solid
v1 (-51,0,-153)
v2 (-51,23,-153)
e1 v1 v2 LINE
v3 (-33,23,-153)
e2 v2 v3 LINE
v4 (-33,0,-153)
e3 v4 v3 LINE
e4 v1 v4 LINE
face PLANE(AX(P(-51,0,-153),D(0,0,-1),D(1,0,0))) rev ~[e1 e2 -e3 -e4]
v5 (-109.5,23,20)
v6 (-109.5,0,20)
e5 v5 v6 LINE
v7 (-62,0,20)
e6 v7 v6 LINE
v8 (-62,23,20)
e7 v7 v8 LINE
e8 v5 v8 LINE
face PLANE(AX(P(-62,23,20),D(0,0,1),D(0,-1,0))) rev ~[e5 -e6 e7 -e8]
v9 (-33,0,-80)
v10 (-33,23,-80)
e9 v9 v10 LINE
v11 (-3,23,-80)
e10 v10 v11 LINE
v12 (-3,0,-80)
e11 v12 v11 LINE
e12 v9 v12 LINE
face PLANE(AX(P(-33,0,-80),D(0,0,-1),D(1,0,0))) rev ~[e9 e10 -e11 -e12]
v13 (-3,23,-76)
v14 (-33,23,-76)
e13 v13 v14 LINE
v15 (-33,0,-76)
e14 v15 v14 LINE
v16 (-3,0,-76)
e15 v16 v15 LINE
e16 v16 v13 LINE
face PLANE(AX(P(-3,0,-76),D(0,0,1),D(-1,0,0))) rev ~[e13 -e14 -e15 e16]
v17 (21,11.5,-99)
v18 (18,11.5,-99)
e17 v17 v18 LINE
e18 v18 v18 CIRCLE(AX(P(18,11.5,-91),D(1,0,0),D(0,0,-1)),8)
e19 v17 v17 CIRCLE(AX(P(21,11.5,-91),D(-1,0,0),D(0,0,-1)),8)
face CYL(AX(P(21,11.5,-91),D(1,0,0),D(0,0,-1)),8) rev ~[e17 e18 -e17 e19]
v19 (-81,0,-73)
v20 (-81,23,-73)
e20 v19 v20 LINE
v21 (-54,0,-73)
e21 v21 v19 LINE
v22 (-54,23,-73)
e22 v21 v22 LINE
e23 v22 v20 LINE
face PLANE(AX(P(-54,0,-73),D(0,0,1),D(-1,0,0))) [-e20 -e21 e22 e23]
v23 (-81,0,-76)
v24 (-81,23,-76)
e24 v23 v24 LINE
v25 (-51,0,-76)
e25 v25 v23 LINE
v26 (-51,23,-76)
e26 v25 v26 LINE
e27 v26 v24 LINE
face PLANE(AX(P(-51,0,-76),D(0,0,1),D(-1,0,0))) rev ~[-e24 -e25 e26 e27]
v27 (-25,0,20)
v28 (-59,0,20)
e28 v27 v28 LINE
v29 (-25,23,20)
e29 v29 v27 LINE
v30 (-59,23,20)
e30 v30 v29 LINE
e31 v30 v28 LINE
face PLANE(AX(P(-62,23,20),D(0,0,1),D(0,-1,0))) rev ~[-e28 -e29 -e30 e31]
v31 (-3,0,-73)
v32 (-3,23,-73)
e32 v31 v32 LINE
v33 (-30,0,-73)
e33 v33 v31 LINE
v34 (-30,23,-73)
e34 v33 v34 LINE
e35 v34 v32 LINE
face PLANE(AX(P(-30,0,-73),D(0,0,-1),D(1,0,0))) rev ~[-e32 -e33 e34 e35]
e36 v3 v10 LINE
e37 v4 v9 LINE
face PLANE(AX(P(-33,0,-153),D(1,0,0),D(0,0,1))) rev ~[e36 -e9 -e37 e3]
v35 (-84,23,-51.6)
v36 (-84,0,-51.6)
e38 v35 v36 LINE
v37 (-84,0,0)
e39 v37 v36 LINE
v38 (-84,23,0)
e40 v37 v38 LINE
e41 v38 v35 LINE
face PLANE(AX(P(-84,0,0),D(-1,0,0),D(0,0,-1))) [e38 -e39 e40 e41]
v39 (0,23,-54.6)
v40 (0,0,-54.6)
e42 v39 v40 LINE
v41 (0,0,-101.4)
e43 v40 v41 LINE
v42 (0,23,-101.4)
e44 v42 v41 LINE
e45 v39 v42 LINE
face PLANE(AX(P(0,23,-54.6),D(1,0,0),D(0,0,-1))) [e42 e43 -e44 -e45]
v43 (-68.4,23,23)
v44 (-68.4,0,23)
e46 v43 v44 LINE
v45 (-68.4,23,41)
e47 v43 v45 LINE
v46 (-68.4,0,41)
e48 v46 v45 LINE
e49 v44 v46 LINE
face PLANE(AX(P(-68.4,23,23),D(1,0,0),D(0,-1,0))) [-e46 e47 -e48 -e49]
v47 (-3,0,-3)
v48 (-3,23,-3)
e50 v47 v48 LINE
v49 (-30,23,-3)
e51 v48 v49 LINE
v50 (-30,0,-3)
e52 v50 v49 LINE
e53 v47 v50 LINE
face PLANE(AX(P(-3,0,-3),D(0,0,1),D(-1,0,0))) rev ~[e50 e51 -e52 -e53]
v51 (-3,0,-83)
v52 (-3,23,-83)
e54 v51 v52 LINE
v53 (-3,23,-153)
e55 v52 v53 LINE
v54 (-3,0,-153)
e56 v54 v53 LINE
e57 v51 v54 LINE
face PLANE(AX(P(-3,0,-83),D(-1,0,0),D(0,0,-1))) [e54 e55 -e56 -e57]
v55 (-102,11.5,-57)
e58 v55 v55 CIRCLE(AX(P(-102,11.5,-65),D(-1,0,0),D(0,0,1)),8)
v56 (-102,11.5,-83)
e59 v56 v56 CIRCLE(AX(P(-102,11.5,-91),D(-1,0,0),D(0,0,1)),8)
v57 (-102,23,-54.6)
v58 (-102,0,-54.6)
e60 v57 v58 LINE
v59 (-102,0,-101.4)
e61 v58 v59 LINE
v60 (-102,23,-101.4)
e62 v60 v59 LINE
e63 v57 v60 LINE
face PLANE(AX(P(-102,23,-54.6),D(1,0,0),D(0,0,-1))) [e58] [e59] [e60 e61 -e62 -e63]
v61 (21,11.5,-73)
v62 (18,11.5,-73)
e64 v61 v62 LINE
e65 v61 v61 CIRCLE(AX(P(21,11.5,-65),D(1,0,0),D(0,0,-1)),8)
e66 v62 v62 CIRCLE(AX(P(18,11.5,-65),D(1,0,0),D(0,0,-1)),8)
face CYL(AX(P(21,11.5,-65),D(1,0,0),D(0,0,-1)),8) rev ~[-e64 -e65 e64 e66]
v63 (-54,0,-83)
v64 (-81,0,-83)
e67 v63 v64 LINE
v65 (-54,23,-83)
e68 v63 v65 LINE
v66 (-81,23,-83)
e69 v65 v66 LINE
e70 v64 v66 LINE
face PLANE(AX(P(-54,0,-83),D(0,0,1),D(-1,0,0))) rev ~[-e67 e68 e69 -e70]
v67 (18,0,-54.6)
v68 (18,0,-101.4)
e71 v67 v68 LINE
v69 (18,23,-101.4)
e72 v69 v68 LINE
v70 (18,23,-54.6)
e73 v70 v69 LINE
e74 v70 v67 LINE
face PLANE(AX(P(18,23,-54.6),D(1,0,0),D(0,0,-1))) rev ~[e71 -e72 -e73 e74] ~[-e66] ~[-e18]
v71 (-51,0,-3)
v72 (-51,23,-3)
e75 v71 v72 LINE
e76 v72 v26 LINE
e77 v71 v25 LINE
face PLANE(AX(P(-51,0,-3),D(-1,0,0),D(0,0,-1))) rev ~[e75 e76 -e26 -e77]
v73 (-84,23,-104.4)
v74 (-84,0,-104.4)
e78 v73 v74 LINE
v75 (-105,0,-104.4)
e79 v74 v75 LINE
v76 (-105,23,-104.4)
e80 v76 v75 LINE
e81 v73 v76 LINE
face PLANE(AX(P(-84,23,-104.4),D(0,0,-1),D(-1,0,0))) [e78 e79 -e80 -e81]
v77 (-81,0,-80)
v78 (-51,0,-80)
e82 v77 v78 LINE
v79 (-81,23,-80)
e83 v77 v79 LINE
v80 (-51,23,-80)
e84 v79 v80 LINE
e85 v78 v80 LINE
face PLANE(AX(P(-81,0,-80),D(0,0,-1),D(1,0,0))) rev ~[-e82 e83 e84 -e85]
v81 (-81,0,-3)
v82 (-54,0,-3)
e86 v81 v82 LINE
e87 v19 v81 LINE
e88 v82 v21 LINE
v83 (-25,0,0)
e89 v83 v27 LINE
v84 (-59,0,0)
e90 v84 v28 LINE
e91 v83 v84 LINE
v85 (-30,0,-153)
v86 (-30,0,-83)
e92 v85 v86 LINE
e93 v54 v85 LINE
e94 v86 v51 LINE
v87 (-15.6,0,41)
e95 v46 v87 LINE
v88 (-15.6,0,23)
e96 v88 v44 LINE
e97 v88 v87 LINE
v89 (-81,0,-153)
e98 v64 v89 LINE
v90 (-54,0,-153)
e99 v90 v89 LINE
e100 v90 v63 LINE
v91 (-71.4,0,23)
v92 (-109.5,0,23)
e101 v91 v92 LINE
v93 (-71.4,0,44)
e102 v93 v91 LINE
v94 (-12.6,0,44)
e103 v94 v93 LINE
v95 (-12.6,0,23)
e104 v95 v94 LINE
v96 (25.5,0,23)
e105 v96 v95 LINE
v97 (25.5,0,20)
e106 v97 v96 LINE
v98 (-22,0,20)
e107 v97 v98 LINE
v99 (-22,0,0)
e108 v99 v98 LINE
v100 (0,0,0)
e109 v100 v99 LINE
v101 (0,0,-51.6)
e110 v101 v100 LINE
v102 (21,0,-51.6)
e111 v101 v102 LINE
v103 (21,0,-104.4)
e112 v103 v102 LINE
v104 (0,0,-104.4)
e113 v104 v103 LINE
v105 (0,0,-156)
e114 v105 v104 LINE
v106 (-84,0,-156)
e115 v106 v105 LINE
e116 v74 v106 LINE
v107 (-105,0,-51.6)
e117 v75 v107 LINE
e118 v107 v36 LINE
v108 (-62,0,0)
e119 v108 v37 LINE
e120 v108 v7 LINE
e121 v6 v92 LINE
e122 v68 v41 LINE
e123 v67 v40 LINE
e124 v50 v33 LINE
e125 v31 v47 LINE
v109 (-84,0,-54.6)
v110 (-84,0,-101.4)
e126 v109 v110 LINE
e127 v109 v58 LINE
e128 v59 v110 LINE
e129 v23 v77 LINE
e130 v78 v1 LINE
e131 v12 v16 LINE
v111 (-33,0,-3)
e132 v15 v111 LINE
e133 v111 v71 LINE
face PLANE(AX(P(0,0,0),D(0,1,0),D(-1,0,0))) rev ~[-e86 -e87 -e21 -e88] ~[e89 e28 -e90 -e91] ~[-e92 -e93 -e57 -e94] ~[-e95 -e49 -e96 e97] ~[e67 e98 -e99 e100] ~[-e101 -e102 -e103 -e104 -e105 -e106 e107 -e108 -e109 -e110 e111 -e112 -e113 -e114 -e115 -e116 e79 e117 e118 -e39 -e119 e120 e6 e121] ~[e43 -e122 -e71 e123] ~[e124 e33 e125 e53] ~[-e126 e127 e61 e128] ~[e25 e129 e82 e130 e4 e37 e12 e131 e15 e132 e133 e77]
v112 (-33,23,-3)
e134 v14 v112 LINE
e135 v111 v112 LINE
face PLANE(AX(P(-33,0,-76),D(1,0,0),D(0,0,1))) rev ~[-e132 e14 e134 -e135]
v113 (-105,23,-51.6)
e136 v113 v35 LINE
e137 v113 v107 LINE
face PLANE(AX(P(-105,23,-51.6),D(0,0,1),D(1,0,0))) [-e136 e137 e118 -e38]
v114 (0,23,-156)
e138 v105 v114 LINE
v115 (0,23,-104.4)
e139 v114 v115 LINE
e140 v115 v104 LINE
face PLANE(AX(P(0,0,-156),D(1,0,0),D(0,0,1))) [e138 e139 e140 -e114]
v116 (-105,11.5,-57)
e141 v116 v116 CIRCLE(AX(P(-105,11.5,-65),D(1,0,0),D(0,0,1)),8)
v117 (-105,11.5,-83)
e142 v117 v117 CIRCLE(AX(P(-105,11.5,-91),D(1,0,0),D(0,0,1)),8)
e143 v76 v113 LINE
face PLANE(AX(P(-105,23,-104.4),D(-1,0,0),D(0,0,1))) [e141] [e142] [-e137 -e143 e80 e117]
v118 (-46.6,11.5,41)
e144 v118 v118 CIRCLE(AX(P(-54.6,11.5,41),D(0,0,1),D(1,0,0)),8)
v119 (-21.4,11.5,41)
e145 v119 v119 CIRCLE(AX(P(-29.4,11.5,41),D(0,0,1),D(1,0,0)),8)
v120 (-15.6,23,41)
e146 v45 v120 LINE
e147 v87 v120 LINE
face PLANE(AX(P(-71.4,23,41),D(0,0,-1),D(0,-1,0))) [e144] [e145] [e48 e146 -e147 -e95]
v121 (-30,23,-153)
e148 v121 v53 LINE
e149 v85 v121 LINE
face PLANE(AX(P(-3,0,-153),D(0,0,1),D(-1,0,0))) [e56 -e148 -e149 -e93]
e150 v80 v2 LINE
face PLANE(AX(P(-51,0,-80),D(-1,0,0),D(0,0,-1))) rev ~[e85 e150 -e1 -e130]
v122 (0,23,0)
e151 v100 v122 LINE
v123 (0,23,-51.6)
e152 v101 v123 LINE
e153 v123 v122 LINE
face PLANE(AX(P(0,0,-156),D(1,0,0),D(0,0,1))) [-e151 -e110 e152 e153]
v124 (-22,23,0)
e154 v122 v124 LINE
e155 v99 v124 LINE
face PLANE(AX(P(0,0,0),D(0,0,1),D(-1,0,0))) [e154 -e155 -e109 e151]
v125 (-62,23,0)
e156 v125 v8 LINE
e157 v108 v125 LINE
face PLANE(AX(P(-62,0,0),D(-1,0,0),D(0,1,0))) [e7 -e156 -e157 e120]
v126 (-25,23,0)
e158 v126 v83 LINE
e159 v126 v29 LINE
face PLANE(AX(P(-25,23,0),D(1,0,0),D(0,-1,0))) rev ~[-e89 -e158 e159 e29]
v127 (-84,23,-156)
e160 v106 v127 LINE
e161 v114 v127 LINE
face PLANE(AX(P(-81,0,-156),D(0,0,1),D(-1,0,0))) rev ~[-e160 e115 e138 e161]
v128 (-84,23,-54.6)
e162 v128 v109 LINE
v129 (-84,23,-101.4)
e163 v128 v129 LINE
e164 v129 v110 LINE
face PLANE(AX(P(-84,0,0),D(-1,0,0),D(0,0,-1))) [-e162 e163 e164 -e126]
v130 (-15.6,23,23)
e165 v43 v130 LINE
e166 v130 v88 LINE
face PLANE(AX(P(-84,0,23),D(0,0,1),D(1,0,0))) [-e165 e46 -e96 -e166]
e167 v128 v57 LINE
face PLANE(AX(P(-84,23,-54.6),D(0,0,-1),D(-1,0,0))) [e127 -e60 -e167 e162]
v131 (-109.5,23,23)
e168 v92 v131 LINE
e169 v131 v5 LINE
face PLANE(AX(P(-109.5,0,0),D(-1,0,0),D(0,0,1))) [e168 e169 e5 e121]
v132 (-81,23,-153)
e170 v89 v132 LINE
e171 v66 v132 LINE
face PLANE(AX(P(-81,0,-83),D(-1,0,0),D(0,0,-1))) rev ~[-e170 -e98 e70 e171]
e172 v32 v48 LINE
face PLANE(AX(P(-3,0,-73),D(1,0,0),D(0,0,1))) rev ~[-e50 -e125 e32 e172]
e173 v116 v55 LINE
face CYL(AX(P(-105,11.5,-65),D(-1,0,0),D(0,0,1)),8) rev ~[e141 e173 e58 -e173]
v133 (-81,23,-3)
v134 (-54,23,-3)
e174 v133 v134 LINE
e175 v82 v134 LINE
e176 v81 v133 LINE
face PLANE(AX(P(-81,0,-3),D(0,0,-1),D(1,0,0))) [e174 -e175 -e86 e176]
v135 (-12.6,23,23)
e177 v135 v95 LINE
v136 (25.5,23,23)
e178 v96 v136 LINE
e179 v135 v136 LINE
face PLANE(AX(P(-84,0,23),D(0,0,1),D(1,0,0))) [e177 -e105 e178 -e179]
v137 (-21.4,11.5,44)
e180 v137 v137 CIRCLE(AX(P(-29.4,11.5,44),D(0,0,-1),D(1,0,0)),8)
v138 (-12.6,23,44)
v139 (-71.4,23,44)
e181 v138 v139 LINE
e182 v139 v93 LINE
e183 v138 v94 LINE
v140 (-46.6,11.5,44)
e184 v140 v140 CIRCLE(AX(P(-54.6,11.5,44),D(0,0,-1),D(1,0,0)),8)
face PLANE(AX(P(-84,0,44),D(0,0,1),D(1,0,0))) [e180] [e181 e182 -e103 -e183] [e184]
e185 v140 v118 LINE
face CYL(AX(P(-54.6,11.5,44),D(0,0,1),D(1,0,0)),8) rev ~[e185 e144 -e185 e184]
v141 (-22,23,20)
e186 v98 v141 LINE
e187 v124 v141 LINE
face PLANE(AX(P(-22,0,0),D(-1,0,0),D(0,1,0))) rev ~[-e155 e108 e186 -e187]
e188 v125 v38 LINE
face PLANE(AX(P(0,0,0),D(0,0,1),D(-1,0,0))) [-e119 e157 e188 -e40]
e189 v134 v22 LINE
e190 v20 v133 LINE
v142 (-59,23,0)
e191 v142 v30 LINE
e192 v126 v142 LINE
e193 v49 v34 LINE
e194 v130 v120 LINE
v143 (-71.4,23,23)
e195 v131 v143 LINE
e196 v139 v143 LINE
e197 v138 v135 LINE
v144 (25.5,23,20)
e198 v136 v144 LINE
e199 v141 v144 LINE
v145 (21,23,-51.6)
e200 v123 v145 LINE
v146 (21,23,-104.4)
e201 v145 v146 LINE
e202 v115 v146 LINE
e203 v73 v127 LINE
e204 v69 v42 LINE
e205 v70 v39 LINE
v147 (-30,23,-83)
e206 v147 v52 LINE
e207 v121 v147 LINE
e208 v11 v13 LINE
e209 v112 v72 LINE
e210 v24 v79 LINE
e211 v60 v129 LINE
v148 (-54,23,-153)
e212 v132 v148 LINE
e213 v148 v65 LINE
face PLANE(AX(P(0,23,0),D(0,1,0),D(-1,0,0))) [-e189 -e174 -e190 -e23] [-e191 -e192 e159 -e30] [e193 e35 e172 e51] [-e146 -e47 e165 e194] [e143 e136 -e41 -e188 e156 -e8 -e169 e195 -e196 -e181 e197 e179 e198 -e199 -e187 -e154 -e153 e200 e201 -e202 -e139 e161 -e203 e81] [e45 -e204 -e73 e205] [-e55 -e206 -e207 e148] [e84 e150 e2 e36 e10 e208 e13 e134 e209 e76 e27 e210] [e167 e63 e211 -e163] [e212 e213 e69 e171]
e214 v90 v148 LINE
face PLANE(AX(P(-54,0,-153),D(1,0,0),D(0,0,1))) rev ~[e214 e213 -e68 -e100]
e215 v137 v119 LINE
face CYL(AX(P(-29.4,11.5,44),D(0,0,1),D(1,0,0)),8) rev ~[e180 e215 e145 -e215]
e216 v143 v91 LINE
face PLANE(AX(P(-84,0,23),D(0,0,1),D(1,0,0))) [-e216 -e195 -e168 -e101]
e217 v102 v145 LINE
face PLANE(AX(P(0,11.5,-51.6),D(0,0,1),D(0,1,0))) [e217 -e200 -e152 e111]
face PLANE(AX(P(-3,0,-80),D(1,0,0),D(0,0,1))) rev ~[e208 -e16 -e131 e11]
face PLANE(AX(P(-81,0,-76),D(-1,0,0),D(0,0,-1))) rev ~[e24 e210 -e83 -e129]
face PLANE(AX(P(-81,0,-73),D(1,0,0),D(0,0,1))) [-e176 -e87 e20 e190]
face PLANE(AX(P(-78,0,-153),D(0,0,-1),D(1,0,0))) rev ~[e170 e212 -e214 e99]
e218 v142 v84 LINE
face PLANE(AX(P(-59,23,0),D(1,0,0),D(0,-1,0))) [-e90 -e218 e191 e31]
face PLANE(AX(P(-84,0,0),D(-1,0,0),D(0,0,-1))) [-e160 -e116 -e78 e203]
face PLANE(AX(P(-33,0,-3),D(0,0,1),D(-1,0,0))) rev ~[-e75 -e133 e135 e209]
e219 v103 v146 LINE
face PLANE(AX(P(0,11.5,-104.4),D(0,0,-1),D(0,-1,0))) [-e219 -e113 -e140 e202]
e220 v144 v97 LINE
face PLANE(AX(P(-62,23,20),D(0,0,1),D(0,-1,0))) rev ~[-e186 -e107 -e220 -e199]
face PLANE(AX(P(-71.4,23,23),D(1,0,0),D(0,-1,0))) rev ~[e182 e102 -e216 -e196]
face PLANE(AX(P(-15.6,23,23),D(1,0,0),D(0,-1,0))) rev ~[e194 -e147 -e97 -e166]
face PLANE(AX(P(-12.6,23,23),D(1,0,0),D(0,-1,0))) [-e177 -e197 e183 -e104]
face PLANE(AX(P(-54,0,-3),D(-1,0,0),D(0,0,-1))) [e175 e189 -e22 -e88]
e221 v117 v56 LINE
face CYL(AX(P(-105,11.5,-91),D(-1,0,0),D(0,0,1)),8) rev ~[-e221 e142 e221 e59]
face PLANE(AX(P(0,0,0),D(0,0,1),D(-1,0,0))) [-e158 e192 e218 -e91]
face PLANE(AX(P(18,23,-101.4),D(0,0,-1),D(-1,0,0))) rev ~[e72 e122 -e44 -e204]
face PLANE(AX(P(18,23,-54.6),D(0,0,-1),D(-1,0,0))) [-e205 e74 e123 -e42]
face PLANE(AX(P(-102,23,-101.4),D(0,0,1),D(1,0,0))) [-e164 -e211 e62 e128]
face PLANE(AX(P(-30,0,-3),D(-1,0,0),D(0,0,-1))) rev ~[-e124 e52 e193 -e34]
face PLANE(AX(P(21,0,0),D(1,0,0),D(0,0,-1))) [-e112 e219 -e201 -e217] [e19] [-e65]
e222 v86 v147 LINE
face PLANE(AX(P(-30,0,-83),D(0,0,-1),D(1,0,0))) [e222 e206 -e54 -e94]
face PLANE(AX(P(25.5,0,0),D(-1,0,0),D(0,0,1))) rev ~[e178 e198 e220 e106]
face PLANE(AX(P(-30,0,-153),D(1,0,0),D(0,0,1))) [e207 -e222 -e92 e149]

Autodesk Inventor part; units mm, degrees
ref_plane "YZ Plane" through (0, 0, 0) normal (1, 0, 0) x (0, 1, 0)
ref_plane "XZ Plane" through (0, 0, 0) normal (0, 1, 0) x (-1, 0, 0)
ref_plane "XY Plane" through (0, 0, 0) normal (0, 0, 1) x (1, 0, 0)
sketch "Sketch1" plane through (0, 0, 0) normal (0, 1, 0) x (-1, 0, 0)
  line L0 (0, 0) -> (84, 0)
  line L1 (84, 0) -> (84, -156)
  line L2 (0, -156) -> (0, 0)
  line L3 (0, 0) -> (3, 0) construction
  line L4 (3, 0) -> (3, -3) construction
  line L5 (3, -3) -> (0, -3) construction
  line L6 (0, -3) -> (0, 0) construction
  line L7 (84, -153) -> (84, -156) construction
  line L8 (3, -3) -> (30, -3)
  line L9 (30, -3) -> (30, -73)
  line L10 (30, -73) -> (3, -73)
  line L11 (3, -73) -> (3, -3)
  line L12 (78, -153) -> (54, -153)
  line L13 (54, -153) -> (54, -83)
  line L14 (54, -83) -> (81, -83)
  line L15 (81, -83) -> (81, -153)
  line L16 (0, -153) -> (0, -156) construction
  line L17 (84, 0) -> (81, 0) construction
  line L18 (81, 0) -> (81, -3) construction
  line L19 (81, -3) -> (84, -3) construction
  line L20 (84, -3) -> (84, 0) construction
  line L21 (81, -3) -> (54, -3)
  line L22 (54, -3) -> (54, -73)
  line L23 (54, -73) -> (81, -73)
  line L24 (81, -73) -> (81, -3)
  line L25 (6, -153) -> (30, -153)
  line L26 (30, -153) -> (30, -83)
  line L27 (30, -83) -> (3, -83)
  line L28 (3, -83) -> (3, -153)
  line L29 (30, -3) -> (33, -3) construction
  line L30 (54, -153) -> (51, -153) construction
  line L31 (33, -3) -> (51, -3)
  line L32 (51, -153) -> (33, -153)
  line L33 (3, -73) -> (3, -76) construction
  line L34 (81, -83) -> (81, -80) construction
  line L35 (81, -76) -> (81, -80)
  line L36 (3, -80) -> (3, -76)
  line L37 (33, -153) -> (33, -80)
  line L38 (33, -76) -> (33, -3)
  line L39 (3, -76) -> (33, -76)
  line L40 (51, -76) -> (81, -76)
  line L41 (81, -80) -> (51, -80)
  line L42 (33, -80) -> (3, -80)
  line L43 (51, -3) -> (51, -76)
  line L44 (51, -80) -> (51, -153)
  line L45 (6, -153) -> (78, -153)
  line L46 (3, -153) -> (6, -153)
  line L47 (6, -156) -> (3, -156)
  line L48 (81, -153) -> (78, -153)
  line L49 (78, -156) -> (81, -156)
  line L50 (6, -156) -> (78, -156)
  line L51 (81, -156) -> (84, -156)
  line L52 (3, -156) -> (0, -156)
  dimension "d1" = 156
  dimension "d12" = 3
  dimension "d13" = 3
  dimension "d15" = 70
  dimension "d17" = 70
  dimension "d66" = 3
  dimension "d68" = 3
extrude "Extrusion1" add sketch "Sketch1" along normal blind 23
sketch "Sketch5" plane through (0, 0, 0) normal (1, 0, 0) x (0, 0, -1)
  circle A0 centre (16.6, 11.5) radius 3.5 projected
  circle A1 centre (139.4, 11.5) radius 3.5 projected
  line L0 (153, 23) -> (83, 23) projected
  line L1 (156, 0) -> (0, 0) projected
  line L2 (16.6, 11.5) -> (51.6, 11.5)
  line L3 (139.4, 11.5) -> (104.4, 11.5)
  line L4 (51.6, 23) -> (104.4, 23)
  line L5 (104.4, 23) -> (104.4, 0)
  line L6 (104.4, 0) -> (51.6, 0)
  line L7 (51.6, 0) -> (51.6, 23)
  point P0 (162, 0)
  dimension "d97" = 35
  dimension "d98" = 35
extrude "Extrusion6" add sketch "Sketch5" along normal blind 21 contours L7 L4 L0 L5 L1
sketch "Sketch6" plane through (0, 23, 0) normal (0, 1, 0) x (1, 0, 0)
  line L0 (0, 51.6) -> (21, 51.6) projected
  line L1 (21, 51.6) -> (18, 51.6)
  line L2 (18, 51.6) -> (18, 54.6)
  line L3 (18, 54.6) -> (21, 54.6)
  line L4 (21, 54.6) -> (21, 51.6)
  line L5 (0, 104.4) -> (21, 104.4) projected
  line L6 (21, 104.4) -> (18, 104.4)
  line L7 (18, 104.4) -> (18, 101.4)
  line L8 (18, 101.4) -> (21, 101.4)
  line L9 (21, 101.4) -> (21, 104.4)
  line L10 (18, 54.6) -> (0, 54.6)
  line L11 (18, 54.6) -> (18, 101.4)
  line L12 (18, 101.4) -> (0, 101.4)
  line L13 (0, 54.6) -> (0, 101.4)
  line L14 (-84, 156) -> (-84, 0) projected
  line L15 (-84, 54.6) -> (-102, 54.6)
  line L16 (-84, 54.6) -> (-66, 54.6) construction
  line L17 (-102, 54.6) -> (-102, 101.4)
  line L18 (-102, 101.4) -> (-84, 101.4)
  line L19 (-84, 101.4) -> (-84, 104.4)
  line L20 (-84, 104.4) -> (-105, 104.4)
  line L21 (-105, 104.4) -> (-105, 51.6)
  line L22 (-105, 51.6) -> (-84, 51.6)
  line L23 (-84, 51.6) -> (-84, 54.6)
  point P0 (0, 0)
  point P1 (21, 49.6)
  point P2 (21, 106.4)
  dimension "d99" = 3
  dimension "d100" = 3
  dimension "d101" = 3
  dimension "d102" = 3
  dimension "d112" = 18
  dimension "d113" = 180
  dimension "d114" = 3
  dimension "d115" = 21
extrude "Extrusion7" cut sketch "Sketch6" against normal up to surface (23 mm away) contours L10 L13 L12 L11
extrude "Extrusion10" add sketch "Sketch6" against normal up to surface (23 mm away) contours L14 L18 L17 L15 L22 L21 L20
sketch "Sketch7" plane through (21, 0, 0) normal (1, 0, 0) x (0, 0, -1)
  line L0 (51.6, 0) -> (104.4, 0) projected
  circle A0 centre (91, 11.5) radius 8
  circle A1 centre (65, 11.5) radius 8
  line L1 (104.4, 23) -> (104.4, 0) projected
  line L2 (104.4, 23) -> (91, 23)
  line L3 (91, 23) -> (91, 11.5)
  line L4 (91, 11.5) -> (104.4, 11.5)
  line L5 (104.4, 11.5) -> (104.4, 23)
  circle A2 centre (91, 11.5) radius 8
  circle A3 centre (65, 11.5) radius 8
  point P0 (0, 0)
  dimension "d108" = 16
  dimension "d109" = 16
  dimension "d118" = 13.4
  dimension "d119" = 11.5
extrude "Extrusion9" cut sketch "Sketch7" against normal up to surface (3 mm away) contours L4 L3 A0 | A0 L3 L4 | A1
sketch "Sketch9" plane through (-105, 23, -104.4) normal (-1, 0, 0) x (0, 0, 1)
  line L0 (0, 0) -> (0, -23) projected
  line L1 (0, 0) -> (13.4, 0)
  line L2 (13.4, 0) -> (13.4, -11.5)
  line L3 (13.4, -11.5) -> (0, -11.5)
  line L4 (0, -11.5) -> (0, 0)
  circle A0 centre (13.4, -11.5) radius 8
  line L5 (0, 0) -> (52.8, 0) projected
  line L6 (52.8, 0) -> (39.4, 0)
  line L7 (39.4, 0) -> (39.4, -11.5)
  line L8 (39.4, -11.5) -> (52.8, -11.5)
  line L9 (52.8, -11.5) -> (52.8, 0)
  circle A1 centre (39.4, -11.5) radius 8
  point P0 (104.4, -23)
  dimension "d120" = 13.4
  dimension "d121" = 11.5
  dimension "d122" = 16
  dimension "d123" = 13.4
  dimension "d124" = 11.5
  dimension "d125" = 16
extrude "Extrusion11" cut sketch "Sketch9" against normal blind 10 contours A0 L2 L3 | L3 L2 A0 | A1 L8 L7 | L7 L8 A1
sketch "Sketch10" plane through (-84, 0, 0) normal (0, 0, 1) x (1, 0, 0)
  line L0 (25, 23) -> (25, 0)
  line L1 (0, 0) -> (84, 0) projected
  line L2 (25, 0) -> (22, 0)
  line L3 (22, 0) -> (22, 23)
  line L4 (22, 23) -> (25, 23)
  line L5 (59, 23) -> (59, 0)
  line L6 (81, 0) -> (54, 0) projected
  line L7 (59, 0) -> (62, 0)
  line L8 (62, 0) -> (62, 23)
  line L9 (62, 23) -> (59, 23)
  point P0 (0, 23)
  point P1 (84, 23)
  dimension "d128" = 25
  dimension "d129" = 3
  dimension "d130" = 25
  dimension "d131" = 3
extrude "Extrusion12" add sketch "Sketch10" along normal blind 23
sketch "Sketch11" plane through (-62, 0, 0) normal (-1, 0, 0) x (0, 0, 1)
  line L0 (0, 0) -> (23, 0) projected
  line L1 (23, 23) -> (20, 23)
  line L2 (20, 23) -> (20, 0)
  line L3 (20, 0) -> (23, 0)
  line L4 (23, 0) -> (23, 23)
  dimension "d134" = 3
extrude "Extrusion13" add sketch "Sketch11" along normal blind 47.5 and the other way blind 87.5
sketch "Sketch12" plane through (-84, 0, 23) normal (0, 0, 1) x (1, 0, 0)
  line L0 (109.5, 23) -> (62, 23) projected
  line L1 (109.5, 23) -> (71.4, 23)
  line L2 (71.4, 23) -> (71.4, 0)
  line L3 (-25.5, 0) -> (109.5, 0) projected
  line L4 (109.5, 0) -> (62, 0) projected
  line L5 (71.4, 23) -> (68.4, 23)
  line L6 (68.4, 23) -> (68.4, 0)
  line L7 (68.4, 0) -> (71.4, 0)
  line L8 (71.4, 0) -> (71.4, 23)
  line L9 (12.6, 23) -> (12.6, 0)
  line L10 (22, 0) -> (-25.5, 0) projected
  line L11 (12.6, 23) -> (15.6, 23)
  line L12 (15.6, 23) -> (15.6, 0)
  line L13 (15.6, 0) -> (12.6, 0)
  line L14 (12.6, 0) -> (12.6, 23)
  point P0 (84, 0)
  point P1 (-25.5, 23)
  point P2 (15.6, 0)
  dimension "d139" = 38.1
  dimension "d140" = 3
  dimension "d141" = 38.1
  dimension "d142" = 3
extrude "Extrusion14" add sketch "Sketch12" along normal blind 21
sketch "Sketch13" plane through (-71.4, 0, 23) normal (-1, 0, 0) x (0, 0, 1)
  line L0 (0, 23) -> (21, 23) projected
  line L1 (0, 0) -> (21, 0) projected
  line L2 (21, 23) -> (18, 23)
  line L3 (18, 23) -> (18, 0)
  line L4 (18, 0) -> (21, 0)
  line L5 (21, 0) -> (21, 23)
  point P0 (-23, 0)
  point P1 (18, 23)
  dimension "d145" = 3
extrude "Extrusion15" add sketch "Sketch13" against normal up to surface (58.8 mm away)
sketch "Sketch14" plane through (-84, 0, 44) normal (0, 0, 1) x (1, 0, 0)
  line L0 (71.4, 23) -> (54.6, 23)
  line L1 (54.6, 23) -> (54.6, 11.5)
  line L2 (54.6, 11.5) -> (71.4, 11.5)
  line L3 (71.4, 11.5) -> (71.4, 23)
  circle A0 centre (54.6, 11.5) radius 8
  line L4 (71.4, 23) -> (12.6, 23) projected
  line L5 (12.6, 23) -> (29.4, 23)
  line L6 (29.4, 23) -> (29.4, 11.5)
  line L7 (29.4, 11.5) -> (12.6, 11.5)
  line L8 (12.6, 11.5) -> (12.6, 23)
  circle A1 centre (29.4, 11.5) radius 8
  point P0 (84, 0)
  dimension "d148" = 16.8
  dimension "d149" = 11.5
  dimension "d150" = 16
  dimension "d151" = 16.8
  dimension "d152" = 11.5
  dimension "d153" = 16
extrude "Extrusion16" cut sketch "Sketch14" against normal blind 10 contours A0 L2 L1 | L1 L2 A0 | A1 L7 L6 | L6 L7 A1
properties part number "Motorcompartiment"
